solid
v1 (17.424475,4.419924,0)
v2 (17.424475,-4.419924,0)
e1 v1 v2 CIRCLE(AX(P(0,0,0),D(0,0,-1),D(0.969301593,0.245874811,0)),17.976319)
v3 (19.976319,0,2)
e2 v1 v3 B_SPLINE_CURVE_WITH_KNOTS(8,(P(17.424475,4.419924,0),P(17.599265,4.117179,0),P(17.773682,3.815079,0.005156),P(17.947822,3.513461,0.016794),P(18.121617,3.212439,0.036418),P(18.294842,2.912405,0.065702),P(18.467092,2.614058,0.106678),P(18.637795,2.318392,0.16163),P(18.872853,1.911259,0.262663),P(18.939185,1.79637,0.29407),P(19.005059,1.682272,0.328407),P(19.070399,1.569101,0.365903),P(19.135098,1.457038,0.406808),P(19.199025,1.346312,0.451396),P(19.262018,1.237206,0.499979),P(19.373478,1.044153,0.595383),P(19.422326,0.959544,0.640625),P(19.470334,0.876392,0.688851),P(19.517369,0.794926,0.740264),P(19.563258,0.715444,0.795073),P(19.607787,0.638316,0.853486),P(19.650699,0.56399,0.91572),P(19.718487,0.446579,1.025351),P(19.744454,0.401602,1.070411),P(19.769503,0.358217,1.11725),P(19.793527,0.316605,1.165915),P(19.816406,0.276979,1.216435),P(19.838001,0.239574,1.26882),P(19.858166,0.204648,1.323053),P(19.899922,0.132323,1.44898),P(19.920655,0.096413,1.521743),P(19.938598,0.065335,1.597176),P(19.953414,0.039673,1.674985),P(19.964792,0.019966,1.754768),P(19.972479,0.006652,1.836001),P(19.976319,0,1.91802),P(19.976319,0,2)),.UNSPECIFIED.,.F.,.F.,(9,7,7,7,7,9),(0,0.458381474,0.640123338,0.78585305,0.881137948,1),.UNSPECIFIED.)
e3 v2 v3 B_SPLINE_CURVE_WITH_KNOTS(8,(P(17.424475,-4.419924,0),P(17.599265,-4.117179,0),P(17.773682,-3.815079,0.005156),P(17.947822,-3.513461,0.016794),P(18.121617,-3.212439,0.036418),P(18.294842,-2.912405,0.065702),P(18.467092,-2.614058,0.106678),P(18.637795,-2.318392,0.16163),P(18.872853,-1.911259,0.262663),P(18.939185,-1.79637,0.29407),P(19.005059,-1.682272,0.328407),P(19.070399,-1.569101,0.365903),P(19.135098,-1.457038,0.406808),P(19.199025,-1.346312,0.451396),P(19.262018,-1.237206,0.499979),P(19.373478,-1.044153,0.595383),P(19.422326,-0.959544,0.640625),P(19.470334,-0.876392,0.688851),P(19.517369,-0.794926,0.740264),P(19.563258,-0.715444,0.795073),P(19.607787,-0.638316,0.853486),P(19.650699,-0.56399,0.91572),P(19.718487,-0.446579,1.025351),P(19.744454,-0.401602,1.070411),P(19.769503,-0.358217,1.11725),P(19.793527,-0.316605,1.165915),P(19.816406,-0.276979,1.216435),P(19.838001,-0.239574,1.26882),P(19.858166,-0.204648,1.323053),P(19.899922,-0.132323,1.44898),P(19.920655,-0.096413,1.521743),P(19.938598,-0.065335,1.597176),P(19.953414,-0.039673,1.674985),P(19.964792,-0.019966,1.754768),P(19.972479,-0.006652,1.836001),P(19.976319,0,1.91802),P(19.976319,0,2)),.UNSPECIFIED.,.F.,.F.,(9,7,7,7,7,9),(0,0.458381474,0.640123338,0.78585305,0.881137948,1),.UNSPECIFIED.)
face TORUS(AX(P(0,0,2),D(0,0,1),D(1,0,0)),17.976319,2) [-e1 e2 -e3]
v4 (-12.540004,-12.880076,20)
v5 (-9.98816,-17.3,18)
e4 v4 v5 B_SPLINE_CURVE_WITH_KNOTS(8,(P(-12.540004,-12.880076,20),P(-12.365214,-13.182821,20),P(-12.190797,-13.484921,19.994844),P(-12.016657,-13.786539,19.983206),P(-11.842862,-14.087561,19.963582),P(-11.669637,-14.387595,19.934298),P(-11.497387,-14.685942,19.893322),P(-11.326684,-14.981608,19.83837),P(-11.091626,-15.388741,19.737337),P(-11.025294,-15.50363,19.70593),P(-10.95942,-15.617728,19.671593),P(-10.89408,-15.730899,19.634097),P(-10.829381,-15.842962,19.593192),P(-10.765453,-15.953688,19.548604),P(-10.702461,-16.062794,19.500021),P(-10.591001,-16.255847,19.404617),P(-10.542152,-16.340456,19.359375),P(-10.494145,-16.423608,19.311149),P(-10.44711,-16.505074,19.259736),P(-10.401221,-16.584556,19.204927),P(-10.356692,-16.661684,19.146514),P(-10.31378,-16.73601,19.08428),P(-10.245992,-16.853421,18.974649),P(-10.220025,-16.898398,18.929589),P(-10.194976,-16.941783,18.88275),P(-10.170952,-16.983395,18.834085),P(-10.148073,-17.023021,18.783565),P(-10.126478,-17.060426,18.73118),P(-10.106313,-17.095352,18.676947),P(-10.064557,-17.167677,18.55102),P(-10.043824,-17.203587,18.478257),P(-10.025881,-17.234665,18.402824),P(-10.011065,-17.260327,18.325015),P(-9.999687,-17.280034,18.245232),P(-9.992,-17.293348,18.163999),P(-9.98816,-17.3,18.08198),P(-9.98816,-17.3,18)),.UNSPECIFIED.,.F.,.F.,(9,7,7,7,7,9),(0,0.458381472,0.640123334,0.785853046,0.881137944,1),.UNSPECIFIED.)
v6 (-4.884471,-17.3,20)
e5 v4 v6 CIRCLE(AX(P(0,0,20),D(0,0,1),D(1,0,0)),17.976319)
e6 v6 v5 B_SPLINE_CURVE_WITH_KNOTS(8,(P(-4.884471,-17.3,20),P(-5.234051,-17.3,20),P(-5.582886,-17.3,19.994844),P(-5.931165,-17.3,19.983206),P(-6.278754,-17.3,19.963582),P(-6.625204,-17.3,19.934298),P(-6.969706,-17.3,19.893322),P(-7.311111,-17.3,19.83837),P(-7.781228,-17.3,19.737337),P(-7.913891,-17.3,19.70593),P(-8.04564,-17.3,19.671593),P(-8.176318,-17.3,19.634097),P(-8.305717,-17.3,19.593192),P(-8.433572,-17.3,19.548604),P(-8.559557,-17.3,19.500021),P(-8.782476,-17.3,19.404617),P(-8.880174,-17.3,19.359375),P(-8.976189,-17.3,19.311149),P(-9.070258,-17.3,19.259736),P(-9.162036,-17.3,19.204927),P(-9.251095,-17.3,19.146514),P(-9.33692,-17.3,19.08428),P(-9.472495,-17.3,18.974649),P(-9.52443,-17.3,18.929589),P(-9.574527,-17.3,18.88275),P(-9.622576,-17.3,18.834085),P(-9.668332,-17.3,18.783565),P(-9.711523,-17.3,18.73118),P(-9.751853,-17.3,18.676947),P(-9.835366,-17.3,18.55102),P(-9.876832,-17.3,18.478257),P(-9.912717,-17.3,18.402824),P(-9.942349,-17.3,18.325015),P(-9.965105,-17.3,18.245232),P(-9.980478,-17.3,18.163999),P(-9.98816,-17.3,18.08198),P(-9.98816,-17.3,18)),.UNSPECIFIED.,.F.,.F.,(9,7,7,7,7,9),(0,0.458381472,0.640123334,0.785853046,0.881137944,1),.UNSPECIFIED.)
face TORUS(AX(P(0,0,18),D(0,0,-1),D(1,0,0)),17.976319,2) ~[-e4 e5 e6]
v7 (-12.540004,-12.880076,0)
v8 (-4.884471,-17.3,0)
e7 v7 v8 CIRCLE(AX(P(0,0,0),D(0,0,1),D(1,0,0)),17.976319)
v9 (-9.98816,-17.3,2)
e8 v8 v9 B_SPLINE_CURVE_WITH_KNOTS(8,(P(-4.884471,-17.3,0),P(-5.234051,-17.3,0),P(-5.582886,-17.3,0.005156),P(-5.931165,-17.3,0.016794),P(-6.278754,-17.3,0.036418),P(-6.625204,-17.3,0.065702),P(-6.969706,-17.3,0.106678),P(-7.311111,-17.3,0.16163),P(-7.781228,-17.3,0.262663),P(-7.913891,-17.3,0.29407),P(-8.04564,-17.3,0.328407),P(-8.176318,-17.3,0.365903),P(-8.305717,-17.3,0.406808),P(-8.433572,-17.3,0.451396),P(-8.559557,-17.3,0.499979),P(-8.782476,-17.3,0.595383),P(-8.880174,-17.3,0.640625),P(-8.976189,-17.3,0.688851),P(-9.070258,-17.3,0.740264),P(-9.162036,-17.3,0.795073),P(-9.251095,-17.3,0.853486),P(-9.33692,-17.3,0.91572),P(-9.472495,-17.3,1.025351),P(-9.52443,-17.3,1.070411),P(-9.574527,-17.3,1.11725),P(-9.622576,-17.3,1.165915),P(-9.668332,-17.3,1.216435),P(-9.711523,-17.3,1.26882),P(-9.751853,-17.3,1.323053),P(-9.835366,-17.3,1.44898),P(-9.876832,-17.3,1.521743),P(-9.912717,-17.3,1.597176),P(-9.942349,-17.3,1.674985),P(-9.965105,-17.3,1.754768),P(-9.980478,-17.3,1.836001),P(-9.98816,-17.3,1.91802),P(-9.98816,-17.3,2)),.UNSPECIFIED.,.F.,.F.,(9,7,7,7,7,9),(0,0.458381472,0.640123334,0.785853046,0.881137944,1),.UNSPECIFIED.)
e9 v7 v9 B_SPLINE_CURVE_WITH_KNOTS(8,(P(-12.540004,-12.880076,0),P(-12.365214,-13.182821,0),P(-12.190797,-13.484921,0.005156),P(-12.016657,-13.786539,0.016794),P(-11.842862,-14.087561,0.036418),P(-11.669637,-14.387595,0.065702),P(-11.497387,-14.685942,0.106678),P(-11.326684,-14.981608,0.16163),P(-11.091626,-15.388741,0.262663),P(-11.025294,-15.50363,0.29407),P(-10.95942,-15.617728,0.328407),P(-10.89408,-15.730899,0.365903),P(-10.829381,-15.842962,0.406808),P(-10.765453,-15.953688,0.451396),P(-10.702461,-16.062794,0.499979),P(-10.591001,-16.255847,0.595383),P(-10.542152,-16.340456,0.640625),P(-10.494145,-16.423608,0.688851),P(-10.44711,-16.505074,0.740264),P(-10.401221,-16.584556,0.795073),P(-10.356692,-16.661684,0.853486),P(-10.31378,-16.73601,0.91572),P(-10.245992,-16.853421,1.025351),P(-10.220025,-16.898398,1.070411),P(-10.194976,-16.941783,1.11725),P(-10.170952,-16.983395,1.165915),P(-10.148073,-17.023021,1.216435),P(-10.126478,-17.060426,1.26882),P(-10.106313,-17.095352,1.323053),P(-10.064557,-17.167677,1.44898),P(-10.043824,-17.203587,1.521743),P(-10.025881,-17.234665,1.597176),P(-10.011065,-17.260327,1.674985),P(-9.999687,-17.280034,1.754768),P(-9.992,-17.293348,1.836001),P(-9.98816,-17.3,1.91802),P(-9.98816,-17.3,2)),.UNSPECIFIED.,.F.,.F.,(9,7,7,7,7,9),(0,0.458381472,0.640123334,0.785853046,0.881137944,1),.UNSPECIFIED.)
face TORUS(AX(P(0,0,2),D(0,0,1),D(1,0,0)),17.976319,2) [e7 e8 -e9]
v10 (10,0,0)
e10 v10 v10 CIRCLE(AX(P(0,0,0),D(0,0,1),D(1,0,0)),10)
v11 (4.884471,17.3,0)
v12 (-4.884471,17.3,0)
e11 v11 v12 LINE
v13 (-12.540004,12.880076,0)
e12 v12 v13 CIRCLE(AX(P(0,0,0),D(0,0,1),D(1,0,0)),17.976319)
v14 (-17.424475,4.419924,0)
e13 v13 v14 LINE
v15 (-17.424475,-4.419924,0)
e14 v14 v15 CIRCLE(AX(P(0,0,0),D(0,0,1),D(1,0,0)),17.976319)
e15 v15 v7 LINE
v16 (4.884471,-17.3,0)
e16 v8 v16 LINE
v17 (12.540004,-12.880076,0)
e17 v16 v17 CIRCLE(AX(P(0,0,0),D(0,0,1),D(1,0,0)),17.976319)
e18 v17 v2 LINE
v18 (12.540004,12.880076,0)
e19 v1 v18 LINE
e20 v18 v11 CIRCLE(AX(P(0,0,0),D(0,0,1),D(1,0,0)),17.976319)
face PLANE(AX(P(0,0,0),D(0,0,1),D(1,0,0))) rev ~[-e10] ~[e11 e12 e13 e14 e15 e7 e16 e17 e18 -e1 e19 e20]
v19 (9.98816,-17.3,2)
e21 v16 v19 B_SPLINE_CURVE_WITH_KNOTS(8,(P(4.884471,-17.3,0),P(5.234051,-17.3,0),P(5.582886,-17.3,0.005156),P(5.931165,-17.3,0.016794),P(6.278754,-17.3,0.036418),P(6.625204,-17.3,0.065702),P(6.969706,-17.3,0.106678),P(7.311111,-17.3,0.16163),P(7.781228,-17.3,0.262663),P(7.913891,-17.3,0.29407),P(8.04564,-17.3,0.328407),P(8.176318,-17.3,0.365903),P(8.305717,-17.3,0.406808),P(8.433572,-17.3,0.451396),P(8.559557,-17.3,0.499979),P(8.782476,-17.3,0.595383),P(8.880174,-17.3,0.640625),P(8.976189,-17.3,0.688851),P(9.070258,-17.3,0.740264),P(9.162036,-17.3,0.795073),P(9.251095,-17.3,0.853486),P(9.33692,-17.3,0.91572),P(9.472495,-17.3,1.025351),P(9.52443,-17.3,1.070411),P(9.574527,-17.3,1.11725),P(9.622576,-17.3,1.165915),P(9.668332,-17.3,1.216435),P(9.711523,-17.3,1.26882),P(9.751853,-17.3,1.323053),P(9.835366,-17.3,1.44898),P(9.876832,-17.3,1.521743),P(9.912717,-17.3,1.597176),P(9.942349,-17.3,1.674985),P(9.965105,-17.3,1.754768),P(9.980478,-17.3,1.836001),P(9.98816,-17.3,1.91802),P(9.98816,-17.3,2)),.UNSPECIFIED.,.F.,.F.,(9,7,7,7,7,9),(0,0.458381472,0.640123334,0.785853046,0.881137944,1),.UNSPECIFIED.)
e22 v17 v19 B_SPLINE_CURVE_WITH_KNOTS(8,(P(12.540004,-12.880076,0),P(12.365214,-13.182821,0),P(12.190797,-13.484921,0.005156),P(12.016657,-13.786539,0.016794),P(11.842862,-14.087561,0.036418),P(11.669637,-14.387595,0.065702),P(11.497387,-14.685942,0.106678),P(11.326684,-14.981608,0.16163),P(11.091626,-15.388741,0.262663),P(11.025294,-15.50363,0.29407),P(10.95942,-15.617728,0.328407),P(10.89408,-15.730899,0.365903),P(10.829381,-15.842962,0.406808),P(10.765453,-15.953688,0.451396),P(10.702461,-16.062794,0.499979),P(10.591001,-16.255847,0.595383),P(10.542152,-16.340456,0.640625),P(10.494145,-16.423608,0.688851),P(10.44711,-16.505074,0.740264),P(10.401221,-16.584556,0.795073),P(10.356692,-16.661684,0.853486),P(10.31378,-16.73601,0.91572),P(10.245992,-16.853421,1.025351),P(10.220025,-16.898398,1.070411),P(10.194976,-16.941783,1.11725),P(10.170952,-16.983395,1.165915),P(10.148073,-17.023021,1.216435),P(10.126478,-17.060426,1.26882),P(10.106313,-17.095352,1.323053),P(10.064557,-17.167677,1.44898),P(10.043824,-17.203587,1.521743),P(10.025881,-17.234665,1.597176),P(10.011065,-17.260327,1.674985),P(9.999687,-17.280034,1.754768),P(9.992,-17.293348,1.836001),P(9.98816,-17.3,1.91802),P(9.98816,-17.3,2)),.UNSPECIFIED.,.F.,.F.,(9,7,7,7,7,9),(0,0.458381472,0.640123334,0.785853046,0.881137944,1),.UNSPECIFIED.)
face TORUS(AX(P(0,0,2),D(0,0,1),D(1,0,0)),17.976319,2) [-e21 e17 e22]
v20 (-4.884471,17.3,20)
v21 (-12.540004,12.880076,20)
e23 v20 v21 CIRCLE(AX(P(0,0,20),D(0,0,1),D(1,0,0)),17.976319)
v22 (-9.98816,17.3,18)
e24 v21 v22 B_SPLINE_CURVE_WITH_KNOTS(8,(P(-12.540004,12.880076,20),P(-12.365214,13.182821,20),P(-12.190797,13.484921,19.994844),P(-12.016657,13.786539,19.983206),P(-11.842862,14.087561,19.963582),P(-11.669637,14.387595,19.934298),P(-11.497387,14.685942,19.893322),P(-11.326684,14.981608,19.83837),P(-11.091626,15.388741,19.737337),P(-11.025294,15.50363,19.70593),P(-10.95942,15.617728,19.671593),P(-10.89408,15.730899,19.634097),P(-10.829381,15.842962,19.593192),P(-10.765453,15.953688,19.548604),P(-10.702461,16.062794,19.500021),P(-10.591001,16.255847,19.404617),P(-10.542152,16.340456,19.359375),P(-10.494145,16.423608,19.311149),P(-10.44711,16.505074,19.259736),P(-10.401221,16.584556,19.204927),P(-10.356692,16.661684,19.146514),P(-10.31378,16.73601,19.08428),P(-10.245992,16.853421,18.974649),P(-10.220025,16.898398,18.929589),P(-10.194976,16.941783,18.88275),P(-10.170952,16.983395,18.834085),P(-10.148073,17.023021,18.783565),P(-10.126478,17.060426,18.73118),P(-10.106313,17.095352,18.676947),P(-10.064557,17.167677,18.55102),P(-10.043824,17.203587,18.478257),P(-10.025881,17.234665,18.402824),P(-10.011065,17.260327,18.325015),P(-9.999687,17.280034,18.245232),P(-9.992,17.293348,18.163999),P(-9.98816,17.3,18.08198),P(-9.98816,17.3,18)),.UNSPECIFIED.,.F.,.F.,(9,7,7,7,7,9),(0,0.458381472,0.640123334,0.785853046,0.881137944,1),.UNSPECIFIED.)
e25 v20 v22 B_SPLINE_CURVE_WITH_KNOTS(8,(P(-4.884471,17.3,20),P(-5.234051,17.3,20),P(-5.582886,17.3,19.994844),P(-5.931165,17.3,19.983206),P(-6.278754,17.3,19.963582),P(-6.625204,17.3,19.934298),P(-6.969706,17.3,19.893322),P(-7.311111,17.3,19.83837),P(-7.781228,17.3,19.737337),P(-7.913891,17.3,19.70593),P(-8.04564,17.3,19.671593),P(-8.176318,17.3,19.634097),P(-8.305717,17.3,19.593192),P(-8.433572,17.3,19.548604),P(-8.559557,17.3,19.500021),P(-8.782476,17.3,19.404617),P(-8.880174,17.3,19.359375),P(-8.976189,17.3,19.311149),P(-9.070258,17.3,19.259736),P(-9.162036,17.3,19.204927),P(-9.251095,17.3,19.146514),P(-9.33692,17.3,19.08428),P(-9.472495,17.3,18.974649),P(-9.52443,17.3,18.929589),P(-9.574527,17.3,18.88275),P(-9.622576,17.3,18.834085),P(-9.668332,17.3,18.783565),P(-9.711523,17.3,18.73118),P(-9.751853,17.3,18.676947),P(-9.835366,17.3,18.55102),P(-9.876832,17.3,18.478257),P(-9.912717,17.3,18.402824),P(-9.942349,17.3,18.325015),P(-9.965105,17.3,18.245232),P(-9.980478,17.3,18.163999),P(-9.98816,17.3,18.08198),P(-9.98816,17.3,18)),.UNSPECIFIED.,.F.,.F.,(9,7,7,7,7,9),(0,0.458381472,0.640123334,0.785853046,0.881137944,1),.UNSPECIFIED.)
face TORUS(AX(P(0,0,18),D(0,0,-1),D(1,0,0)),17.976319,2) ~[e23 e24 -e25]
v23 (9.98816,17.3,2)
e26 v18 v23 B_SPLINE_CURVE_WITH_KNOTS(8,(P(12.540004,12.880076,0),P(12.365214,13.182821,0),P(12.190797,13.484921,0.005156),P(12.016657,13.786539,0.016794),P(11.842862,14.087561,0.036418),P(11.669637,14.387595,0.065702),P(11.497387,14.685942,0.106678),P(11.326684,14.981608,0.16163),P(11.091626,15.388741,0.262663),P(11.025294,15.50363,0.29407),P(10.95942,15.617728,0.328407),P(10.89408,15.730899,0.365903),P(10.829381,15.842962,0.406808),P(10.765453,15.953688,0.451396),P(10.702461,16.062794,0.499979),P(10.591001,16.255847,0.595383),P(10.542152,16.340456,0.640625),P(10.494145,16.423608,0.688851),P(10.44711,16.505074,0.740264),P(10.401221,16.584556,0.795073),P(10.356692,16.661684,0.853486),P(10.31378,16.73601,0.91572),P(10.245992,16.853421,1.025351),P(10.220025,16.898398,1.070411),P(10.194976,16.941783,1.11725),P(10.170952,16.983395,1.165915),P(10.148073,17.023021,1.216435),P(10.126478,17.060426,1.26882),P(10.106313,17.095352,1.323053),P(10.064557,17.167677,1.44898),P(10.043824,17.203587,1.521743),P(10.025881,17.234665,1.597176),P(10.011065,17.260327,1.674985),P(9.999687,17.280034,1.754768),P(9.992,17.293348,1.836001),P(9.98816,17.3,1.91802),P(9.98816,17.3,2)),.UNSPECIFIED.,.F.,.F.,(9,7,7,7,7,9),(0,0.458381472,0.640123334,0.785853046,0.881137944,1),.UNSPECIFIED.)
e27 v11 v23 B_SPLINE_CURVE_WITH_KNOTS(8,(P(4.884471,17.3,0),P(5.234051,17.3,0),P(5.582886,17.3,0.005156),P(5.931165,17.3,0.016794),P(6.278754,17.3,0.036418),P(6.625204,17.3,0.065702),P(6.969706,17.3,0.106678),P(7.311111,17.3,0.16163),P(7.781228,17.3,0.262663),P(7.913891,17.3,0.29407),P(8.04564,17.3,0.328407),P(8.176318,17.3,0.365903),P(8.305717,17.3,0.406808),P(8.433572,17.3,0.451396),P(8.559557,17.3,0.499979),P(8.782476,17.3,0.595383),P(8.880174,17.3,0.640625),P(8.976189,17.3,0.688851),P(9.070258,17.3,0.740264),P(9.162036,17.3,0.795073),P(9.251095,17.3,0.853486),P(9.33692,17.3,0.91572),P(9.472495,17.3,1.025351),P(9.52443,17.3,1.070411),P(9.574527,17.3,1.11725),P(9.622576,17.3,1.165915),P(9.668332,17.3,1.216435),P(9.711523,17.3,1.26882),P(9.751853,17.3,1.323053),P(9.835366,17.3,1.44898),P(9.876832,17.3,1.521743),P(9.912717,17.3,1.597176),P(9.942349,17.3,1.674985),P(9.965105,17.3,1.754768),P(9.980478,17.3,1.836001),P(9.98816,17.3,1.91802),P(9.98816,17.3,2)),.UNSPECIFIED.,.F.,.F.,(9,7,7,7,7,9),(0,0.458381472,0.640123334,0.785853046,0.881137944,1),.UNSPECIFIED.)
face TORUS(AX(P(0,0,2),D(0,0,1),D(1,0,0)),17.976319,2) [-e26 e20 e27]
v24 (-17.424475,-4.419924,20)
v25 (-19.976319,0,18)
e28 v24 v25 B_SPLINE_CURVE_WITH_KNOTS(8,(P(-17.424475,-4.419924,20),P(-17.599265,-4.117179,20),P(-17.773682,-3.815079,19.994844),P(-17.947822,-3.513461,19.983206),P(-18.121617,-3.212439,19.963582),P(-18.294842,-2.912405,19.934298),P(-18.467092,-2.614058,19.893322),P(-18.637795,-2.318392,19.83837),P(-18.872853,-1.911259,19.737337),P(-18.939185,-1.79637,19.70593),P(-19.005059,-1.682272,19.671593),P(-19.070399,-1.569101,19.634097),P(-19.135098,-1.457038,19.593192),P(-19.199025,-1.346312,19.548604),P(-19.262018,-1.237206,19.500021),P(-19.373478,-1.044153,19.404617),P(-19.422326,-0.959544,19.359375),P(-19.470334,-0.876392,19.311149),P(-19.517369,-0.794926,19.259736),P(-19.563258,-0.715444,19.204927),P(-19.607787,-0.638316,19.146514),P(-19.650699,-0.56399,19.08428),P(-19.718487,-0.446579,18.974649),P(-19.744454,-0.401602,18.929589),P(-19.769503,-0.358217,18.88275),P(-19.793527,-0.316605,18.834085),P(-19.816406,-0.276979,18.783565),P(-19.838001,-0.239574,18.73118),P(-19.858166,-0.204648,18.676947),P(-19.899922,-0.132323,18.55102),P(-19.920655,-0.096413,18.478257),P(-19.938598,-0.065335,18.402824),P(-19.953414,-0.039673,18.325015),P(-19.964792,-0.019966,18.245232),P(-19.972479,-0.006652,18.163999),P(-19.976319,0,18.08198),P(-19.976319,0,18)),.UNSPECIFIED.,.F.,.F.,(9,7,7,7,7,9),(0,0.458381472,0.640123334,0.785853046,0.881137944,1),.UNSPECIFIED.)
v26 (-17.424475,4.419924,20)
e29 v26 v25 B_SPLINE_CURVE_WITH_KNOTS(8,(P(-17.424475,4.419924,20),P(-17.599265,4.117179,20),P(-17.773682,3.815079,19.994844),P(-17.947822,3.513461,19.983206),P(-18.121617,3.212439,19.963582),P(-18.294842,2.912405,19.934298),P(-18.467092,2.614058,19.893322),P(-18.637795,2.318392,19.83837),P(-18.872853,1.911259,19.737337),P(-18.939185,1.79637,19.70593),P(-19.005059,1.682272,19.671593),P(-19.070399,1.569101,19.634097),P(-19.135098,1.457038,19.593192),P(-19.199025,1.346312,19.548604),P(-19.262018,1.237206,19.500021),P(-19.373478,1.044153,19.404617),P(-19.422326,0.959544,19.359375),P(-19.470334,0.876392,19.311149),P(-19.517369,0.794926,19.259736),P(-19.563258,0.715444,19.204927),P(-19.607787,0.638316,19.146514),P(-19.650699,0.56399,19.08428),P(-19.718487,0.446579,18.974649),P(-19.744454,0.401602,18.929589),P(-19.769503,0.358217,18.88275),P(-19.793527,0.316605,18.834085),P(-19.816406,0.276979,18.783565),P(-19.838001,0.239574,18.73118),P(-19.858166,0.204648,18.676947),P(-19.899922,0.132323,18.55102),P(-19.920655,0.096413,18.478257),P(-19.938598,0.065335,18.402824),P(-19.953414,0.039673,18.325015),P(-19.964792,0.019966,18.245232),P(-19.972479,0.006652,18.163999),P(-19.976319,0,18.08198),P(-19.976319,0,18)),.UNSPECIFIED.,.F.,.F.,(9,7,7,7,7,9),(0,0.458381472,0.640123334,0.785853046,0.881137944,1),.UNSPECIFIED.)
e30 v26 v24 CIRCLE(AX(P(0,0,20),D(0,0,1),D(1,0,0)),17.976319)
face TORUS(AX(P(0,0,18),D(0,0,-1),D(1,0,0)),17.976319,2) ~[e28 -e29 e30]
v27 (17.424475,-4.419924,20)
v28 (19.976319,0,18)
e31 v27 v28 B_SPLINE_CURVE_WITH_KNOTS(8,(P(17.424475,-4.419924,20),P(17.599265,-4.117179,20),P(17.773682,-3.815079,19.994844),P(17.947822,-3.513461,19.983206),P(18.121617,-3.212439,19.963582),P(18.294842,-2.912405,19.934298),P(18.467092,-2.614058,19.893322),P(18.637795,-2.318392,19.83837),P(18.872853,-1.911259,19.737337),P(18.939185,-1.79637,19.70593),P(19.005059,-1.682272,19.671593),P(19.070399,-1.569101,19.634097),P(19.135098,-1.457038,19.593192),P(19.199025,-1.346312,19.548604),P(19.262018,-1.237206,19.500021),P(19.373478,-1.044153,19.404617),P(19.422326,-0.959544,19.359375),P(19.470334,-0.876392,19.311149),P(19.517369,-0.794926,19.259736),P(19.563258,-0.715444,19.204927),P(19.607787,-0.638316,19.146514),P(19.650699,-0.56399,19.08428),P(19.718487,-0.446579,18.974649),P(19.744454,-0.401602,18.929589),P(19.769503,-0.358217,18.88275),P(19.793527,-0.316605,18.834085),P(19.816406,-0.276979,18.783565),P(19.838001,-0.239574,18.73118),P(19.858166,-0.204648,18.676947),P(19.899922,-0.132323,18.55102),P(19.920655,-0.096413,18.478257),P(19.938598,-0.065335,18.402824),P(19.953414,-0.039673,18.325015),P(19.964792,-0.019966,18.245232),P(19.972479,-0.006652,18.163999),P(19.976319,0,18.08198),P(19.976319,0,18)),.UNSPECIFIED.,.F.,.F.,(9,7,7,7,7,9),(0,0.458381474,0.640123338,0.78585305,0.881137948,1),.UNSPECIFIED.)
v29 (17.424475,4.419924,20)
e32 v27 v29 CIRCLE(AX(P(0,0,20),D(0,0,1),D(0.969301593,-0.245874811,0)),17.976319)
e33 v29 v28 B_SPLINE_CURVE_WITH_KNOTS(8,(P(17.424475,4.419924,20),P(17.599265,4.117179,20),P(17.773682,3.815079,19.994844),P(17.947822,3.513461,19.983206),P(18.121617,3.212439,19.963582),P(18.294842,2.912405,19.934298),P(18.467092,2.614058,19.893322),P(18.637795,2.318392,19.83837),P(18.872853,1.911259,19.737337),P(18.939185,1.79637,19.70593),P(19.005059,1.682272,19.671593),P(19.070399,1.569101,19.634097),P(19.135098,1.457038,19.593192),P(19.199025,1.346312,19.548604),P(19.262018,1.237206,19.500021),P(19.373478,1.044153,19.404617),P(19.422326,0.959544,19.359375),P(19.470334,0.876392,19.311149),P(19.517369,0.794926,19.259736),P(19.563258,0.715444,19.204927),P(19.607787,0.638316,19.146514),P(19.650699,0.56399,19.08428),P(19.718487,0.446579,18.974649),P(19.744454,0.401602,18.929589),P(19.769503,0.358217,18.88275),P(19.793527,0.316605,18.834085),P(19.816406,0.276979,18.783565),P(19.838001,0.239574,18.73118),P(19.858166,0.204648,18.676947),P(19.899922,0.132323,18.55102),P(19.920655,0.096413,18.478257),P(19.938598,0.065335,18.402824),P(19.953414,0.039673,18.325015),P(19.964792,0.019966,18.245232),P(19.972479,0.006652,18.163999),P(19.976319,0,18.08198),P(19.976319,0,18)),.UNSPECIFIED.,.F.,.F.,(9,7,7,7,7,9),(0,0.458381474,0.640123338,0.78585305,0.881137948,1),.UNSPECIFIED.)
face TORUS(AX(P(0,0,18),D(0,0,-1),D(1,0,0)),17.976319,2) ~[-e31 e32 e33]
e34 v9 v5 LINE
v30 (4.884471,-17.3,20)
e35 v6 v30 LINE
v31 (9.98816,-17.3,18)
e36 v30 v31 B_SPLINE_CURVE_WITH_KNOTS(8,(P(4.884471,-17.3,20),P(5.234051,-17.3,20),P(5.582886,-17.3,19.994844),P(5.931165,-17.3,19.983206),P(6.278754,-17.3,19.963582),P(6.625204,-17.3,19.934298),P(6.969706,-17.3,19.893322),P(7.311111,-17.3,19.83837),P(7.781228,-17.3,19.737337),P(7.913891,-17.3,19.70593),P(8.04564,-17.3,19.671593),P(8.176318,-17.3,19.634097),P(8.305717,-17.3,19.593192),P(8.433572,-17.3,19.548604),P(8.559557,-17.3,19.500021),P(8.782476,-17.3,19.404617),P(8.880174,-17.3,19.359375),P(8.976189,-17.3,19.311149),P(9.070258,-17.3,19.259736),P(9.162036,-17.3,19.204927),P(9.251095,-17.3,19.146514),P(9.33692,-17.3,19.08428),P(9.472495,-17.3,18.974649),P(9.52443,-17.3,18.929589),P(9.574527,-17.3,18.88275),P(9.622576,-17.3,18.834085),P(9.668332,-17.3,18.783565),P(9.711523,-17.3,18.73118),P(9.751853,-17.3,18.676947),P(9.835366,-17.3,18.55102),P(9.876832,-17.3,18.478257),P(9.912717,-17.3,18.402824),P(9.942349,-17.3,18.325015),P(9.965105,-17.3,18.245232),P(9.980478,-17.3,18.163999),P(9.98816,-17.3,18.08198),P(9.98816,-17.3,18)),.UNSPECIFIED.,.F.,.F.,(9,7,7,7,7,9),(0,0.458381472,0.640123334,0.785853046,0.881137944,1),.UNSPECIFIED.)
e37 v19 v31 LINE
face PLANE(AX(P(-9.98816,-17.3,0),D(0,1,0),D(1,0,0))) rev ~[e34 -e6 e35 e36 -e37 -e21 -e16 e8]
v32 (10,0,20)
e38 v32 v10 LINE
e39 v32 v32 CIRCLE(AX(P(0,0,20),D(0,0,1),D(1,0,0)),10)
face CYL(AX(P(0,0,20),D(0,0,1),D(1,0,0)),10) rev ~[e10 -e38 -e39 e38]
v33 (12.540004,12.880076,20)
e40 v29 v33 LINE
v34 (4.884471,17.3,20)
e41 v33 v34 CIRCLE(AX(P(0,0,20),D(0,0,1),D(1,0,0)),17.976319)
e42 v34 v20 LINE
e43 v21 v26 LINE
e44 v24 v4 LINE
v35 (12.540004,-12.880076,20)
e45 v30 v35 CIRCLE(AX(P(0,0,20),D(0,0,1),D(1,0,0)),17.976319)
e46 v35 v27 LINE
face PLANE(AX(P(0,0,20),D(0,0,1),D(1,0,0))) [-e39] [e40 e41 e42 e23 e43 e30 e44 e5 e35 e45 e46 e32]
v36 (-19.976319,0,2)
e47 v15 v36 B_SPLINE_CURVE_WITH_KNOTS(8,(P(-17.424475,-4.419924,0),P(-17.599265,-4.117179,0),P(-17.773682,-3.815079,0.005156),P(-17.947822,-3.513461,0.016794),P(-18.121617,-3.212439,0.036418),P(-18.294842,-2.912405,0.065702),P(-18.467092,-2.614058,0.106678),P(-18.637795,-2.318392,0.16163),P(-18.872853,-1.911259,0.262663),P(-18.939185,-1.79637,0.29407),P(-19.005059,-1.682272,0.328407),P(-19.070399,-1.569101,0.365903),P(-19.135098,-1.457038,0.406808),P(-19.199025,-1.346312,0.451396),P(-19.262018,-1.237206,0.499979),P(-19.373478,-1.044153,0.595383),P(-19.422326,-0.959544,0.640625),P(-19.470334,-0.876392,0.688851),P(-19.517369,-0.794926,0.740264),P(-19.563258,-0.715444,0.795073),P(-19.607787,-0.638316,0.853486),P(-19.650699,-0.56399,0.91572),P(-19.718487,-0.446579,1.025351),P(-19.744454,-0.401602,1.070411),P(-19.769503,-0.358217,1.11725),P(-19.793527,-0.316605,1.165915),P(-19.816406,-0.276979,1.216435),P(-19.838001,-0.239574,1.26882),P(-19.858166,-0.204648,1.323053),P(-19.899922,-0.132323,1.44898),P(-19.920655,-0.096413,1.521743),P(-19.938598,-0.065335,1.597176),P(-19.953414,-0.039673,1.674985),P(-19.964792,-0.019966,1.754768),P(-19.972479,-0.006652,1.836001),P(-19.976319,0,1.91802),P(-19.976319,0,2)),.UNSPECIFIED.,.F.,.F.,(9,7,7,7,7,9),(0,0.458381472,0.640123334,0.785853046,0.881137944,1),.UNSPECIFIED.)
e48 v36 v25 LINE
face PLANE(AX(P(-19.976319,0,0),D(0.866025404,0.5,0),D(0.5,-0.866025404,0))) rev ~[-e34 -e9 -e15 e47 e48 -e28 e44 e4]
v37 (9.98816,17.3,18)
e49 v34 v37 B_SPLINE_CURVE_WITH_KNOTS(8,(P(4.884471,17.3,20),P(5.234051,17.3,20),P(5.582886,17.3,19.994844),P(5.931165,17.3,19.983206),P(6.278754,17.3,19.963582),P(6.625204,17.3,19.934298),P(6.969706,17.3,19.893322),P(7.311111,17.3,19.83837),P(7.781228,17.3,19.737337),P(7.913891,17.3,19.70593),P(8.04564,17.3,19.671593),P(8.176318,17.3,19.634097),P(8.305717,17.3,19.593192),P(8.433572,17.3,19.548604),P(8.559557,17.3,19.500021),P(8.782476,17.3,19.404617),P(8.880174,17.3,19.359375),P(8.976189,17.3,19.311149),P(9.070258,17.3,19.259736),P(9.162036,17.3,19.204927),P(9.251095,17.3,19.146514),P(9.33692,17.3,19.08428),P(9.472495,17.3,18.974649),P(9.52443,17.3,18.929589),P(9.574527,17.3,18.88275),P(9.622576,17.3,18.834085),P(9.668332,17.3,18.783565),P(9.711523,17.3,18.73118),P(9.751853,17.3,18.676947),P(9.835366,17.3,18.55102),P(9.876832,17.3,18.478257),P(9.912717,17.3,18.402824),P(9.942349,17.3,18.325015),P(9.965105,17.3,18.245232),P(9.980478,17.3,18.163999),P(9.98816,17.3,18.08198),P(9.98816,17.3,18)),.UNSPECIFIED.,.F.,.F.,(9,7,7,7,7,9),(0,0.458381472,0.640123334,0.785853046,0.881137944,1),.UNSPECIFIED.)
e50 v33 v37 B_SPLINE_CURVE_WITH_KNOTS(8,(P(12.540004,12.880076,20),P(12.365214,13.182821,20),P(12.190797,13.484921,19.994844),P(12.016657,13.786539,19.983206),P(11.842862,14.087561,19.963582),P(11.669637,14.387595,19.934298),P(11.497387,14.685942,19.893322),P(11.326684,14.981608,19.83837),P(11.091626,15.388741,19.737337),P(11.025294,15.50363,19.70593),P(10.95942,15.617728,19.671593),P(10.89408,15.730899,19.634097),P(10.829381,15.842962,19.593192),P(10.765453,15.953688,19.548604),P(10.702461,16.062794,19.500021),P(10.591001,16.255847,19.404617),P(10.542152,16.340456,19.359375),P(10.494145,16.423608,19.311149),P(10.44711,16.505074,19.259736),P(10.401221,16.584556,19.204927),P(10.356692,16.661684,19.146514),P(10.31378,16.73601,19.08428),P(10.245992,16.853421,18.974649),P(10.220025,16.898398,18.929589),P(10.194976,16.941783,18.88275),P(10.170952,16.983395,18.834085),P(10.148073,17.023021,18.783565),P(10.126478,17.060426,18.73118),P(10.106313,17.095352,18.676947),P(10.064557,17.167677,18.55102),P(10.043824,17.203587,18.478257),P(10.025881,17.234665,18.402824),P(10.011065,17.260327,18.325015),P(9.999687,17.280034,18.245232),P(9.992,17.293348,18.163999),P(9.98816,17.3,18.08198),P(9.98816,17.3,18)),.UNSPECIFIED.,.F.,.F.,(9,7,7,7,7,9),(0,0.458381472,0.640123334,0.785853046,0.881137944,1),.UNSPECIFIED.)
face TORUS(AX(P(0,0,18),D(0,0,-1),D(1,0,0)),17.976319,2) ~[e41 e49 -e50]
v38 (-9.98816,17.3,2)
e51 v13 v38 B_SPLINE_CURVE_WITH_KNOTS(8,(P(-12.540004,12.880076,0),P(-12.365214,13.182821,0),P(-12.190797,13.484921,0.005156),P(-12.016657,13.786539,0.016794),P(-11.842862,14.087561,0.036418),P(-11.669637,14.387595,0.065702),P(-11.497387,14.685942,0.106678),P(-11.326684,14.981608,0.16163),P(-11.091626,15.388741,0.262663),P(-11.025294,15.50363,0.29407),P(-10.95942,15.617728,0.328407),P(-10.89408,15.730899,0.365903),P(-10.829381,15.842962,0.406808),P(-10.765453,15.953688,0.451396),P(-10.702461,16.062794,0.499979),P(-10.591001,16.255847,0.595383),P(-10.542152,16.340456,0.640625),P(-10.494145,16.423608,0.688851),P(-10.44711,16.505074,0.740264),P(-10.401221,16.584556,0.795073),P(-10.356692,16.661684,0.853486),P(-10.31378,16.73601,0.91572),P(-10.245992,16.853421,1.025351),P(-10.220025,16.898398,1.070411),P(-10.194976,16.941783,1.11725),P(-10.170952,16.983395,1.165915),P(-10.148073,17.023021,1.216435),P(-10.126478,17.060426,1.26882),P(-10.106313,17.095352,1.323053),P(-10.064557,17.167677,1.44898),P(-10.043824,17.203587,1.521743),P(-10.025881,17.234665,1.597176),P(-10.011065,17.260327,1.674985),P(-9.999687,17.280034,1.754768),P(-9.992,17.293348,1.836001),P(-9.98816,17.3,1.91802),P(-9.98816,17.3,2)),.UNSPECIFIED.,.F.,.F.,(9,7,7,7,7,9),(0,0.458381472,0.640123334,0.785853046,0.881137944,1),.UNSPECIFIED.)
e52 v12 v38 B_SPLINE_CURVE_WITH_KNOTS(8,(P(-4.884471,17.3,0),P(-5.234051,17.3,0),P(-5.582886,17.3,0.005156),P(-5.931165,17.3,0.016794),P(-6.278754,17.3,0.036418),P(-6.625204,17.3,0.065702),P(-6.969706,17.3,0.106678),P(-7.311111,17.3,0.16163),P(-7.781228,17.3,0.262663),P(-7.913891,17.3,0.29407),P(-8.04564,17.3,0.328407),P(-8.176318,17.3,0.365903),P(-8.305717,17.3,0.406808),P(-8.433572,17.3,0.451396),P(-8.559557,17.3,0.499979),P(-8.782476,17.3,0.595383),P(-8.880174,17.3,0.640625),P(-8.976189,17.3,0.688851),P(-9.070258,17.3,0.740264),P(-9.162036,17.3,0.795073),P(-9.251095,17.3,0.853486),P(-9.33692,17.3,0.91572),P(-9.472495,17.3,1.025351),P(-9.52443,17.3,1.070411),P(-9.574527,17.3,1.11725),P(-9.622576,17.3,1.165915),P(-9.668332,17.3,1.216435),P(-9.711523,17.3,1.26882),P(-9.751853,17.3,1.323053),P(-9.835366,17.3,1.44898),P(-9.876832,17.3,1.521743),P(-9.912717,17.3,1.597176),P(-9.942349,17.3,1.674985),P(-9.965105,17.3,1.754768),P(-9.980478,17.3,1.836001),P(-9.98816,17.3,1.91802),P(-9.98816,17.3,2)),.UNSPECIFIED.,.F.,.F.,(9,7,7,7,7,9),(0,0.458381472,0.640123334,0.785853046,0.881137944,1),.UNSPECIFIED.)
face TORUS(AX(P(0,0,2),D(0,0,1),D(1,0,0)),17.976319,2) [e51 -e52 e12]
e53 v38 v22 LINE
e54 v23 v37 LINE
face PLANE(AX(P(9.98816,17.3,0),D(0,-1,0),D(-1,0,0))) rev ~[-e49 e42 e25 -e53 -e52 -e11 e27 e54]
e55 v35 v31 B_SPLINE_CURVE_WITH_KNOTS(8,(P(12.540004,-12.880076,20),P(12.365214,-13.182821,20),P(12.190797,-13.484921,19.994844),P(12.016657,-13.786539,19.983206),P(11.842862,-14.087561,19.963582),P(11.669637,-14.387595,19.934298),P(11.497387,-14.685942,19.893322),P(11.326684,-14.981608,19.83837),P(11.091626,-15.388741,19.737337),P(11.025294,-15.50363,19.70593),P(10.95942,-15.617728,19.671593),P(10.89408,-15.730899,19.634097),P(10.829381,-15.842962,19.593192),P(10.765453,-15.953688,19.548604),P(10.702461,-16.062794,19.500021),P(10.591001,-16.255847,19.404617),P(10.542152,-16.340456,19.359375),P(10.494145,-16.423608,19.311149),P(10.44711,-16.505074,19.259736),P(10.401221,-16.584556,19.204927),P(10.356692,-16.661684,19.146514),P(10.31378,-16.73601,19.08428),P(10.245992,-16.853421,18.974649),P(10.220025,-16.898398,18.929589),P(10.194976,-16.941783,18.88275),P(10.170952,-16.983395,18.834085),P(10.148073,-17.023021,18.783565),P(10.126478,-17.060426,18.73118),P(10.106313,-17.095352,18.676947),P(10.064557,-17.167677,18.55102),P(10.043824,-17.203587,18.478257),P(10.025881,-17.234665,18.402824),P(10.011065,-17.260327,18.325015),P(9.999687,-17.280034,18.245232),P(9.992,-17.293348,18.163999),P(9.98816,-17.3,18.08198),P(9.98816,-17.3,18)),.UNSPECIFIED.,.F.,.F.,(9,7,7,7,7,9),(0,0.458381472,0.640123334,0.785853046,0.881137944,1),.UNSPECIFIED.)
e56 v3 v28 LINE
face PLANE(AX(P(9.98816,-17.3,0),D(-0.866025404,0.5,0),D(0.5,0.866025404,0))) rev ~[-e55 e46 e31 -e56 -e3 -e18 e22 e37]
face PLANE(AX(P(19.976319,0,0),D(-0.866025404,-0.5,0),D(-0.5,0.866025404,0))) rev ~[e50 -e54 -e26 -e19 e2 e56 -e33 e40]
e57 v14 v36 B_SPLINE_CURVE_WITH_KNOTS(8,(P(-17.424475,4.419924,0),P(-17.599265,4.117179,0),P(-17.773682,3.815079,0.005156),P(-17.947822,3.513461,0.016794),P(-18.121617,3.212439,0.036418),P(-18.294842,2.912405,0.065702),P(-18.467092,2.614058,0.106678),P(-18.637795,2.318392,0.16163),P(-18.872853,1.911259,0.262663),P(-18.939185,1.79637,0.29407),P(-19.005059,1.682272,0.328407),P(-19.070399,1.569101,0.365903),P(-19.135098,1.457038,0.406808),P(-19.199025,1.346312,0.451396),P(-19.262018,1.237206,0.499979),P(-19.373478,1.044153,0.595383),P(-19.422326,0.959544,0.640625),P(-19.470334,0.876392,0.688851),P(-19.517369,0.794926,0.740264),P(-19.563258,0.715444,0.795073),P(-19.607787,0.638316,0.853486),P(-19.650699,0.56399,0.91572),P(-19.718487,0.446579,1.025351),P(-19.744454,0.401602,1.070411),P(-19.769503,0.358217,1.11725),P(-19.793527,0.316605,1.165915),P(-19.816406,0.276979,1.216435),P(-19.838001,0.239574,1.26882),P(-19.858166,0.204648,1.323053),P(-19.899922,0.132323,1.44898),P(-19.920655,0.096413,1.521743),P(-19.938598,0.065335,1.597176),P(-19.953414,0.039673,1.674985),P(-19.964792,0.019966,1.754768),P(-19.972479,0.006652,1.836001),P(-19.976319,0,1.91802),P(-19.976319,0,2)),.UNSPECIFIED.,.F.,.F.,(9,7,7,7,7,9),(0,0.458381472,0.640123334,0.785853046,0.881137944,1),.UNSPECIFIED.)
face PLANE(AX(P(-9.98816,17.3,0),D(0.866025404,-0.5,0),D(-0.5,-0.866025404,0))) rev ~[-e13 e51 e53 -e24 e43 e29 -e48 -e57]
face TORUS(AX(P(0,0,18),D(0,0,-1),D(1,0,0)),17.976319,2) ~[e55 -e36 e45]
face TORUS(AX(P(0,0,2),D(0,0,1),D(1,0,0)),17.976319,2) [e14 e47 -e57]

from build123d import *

# Parameters (mm, degrees)
BOSS_EXTRUDE1_DEPTH = 20
SKETCH2_R           = 10
CUT_EXTRUDE1_DEPTH  = 20


with BuildPart() as part:
    # Sketch1 → Boss-Extrude1 (new body)
    with BuildSketch(Plane.XY):
        Polygon((-19.976319314, 0), (-9.988159657, -17.3), (9.988159657, -17.3), (19.976319314, 0), (9.988159657, 17.3), (-9.988159657, 17.3), align=None)
    extrude(amount=BOSS_EXTRUDE1_DEPTH)

    # Sketch2 → Cut-Extrude1 (cut)
    with BuildSketch(Plane.XY.offset(20)):
        Circle(SKETCH2_R)
    extrude(amount=-CUT_EXTRUDE1_DEPTH, mode=Mode.SUBTRACT)

    # Sketch3 → Cut-Revolve1 (revolve, cut)
    with BuildSketch(Plane(origin=(0, 0, 0), x_dir=(1, 0, 0), z_dir=(0, 1, 0))):
        with BuildLine():
            Line((19.976319314, -2), (19.976319314, 0))
            Line((19.976319314, 0), (17.976319314, 0))
            ThreePointArc((17.976319314, 0), (19.390532876, -0.585786438), (19.976319314, -2))
        make_face()
    cut_revolve1 = revolve(axis=Axis((0, 0, 0), (0, 0, 1)), mode=Mode.SUBTRACT)

    # Mirror1: Cut-Revolve1 across plane
    add(cut_revolve1.mirror(Plane(origin=(0, 0, 10), x_dir=(1, 0, 0), z_dir=(0, 0, -1))), mode=Mode.SUBTRACT)


solid = part.part
